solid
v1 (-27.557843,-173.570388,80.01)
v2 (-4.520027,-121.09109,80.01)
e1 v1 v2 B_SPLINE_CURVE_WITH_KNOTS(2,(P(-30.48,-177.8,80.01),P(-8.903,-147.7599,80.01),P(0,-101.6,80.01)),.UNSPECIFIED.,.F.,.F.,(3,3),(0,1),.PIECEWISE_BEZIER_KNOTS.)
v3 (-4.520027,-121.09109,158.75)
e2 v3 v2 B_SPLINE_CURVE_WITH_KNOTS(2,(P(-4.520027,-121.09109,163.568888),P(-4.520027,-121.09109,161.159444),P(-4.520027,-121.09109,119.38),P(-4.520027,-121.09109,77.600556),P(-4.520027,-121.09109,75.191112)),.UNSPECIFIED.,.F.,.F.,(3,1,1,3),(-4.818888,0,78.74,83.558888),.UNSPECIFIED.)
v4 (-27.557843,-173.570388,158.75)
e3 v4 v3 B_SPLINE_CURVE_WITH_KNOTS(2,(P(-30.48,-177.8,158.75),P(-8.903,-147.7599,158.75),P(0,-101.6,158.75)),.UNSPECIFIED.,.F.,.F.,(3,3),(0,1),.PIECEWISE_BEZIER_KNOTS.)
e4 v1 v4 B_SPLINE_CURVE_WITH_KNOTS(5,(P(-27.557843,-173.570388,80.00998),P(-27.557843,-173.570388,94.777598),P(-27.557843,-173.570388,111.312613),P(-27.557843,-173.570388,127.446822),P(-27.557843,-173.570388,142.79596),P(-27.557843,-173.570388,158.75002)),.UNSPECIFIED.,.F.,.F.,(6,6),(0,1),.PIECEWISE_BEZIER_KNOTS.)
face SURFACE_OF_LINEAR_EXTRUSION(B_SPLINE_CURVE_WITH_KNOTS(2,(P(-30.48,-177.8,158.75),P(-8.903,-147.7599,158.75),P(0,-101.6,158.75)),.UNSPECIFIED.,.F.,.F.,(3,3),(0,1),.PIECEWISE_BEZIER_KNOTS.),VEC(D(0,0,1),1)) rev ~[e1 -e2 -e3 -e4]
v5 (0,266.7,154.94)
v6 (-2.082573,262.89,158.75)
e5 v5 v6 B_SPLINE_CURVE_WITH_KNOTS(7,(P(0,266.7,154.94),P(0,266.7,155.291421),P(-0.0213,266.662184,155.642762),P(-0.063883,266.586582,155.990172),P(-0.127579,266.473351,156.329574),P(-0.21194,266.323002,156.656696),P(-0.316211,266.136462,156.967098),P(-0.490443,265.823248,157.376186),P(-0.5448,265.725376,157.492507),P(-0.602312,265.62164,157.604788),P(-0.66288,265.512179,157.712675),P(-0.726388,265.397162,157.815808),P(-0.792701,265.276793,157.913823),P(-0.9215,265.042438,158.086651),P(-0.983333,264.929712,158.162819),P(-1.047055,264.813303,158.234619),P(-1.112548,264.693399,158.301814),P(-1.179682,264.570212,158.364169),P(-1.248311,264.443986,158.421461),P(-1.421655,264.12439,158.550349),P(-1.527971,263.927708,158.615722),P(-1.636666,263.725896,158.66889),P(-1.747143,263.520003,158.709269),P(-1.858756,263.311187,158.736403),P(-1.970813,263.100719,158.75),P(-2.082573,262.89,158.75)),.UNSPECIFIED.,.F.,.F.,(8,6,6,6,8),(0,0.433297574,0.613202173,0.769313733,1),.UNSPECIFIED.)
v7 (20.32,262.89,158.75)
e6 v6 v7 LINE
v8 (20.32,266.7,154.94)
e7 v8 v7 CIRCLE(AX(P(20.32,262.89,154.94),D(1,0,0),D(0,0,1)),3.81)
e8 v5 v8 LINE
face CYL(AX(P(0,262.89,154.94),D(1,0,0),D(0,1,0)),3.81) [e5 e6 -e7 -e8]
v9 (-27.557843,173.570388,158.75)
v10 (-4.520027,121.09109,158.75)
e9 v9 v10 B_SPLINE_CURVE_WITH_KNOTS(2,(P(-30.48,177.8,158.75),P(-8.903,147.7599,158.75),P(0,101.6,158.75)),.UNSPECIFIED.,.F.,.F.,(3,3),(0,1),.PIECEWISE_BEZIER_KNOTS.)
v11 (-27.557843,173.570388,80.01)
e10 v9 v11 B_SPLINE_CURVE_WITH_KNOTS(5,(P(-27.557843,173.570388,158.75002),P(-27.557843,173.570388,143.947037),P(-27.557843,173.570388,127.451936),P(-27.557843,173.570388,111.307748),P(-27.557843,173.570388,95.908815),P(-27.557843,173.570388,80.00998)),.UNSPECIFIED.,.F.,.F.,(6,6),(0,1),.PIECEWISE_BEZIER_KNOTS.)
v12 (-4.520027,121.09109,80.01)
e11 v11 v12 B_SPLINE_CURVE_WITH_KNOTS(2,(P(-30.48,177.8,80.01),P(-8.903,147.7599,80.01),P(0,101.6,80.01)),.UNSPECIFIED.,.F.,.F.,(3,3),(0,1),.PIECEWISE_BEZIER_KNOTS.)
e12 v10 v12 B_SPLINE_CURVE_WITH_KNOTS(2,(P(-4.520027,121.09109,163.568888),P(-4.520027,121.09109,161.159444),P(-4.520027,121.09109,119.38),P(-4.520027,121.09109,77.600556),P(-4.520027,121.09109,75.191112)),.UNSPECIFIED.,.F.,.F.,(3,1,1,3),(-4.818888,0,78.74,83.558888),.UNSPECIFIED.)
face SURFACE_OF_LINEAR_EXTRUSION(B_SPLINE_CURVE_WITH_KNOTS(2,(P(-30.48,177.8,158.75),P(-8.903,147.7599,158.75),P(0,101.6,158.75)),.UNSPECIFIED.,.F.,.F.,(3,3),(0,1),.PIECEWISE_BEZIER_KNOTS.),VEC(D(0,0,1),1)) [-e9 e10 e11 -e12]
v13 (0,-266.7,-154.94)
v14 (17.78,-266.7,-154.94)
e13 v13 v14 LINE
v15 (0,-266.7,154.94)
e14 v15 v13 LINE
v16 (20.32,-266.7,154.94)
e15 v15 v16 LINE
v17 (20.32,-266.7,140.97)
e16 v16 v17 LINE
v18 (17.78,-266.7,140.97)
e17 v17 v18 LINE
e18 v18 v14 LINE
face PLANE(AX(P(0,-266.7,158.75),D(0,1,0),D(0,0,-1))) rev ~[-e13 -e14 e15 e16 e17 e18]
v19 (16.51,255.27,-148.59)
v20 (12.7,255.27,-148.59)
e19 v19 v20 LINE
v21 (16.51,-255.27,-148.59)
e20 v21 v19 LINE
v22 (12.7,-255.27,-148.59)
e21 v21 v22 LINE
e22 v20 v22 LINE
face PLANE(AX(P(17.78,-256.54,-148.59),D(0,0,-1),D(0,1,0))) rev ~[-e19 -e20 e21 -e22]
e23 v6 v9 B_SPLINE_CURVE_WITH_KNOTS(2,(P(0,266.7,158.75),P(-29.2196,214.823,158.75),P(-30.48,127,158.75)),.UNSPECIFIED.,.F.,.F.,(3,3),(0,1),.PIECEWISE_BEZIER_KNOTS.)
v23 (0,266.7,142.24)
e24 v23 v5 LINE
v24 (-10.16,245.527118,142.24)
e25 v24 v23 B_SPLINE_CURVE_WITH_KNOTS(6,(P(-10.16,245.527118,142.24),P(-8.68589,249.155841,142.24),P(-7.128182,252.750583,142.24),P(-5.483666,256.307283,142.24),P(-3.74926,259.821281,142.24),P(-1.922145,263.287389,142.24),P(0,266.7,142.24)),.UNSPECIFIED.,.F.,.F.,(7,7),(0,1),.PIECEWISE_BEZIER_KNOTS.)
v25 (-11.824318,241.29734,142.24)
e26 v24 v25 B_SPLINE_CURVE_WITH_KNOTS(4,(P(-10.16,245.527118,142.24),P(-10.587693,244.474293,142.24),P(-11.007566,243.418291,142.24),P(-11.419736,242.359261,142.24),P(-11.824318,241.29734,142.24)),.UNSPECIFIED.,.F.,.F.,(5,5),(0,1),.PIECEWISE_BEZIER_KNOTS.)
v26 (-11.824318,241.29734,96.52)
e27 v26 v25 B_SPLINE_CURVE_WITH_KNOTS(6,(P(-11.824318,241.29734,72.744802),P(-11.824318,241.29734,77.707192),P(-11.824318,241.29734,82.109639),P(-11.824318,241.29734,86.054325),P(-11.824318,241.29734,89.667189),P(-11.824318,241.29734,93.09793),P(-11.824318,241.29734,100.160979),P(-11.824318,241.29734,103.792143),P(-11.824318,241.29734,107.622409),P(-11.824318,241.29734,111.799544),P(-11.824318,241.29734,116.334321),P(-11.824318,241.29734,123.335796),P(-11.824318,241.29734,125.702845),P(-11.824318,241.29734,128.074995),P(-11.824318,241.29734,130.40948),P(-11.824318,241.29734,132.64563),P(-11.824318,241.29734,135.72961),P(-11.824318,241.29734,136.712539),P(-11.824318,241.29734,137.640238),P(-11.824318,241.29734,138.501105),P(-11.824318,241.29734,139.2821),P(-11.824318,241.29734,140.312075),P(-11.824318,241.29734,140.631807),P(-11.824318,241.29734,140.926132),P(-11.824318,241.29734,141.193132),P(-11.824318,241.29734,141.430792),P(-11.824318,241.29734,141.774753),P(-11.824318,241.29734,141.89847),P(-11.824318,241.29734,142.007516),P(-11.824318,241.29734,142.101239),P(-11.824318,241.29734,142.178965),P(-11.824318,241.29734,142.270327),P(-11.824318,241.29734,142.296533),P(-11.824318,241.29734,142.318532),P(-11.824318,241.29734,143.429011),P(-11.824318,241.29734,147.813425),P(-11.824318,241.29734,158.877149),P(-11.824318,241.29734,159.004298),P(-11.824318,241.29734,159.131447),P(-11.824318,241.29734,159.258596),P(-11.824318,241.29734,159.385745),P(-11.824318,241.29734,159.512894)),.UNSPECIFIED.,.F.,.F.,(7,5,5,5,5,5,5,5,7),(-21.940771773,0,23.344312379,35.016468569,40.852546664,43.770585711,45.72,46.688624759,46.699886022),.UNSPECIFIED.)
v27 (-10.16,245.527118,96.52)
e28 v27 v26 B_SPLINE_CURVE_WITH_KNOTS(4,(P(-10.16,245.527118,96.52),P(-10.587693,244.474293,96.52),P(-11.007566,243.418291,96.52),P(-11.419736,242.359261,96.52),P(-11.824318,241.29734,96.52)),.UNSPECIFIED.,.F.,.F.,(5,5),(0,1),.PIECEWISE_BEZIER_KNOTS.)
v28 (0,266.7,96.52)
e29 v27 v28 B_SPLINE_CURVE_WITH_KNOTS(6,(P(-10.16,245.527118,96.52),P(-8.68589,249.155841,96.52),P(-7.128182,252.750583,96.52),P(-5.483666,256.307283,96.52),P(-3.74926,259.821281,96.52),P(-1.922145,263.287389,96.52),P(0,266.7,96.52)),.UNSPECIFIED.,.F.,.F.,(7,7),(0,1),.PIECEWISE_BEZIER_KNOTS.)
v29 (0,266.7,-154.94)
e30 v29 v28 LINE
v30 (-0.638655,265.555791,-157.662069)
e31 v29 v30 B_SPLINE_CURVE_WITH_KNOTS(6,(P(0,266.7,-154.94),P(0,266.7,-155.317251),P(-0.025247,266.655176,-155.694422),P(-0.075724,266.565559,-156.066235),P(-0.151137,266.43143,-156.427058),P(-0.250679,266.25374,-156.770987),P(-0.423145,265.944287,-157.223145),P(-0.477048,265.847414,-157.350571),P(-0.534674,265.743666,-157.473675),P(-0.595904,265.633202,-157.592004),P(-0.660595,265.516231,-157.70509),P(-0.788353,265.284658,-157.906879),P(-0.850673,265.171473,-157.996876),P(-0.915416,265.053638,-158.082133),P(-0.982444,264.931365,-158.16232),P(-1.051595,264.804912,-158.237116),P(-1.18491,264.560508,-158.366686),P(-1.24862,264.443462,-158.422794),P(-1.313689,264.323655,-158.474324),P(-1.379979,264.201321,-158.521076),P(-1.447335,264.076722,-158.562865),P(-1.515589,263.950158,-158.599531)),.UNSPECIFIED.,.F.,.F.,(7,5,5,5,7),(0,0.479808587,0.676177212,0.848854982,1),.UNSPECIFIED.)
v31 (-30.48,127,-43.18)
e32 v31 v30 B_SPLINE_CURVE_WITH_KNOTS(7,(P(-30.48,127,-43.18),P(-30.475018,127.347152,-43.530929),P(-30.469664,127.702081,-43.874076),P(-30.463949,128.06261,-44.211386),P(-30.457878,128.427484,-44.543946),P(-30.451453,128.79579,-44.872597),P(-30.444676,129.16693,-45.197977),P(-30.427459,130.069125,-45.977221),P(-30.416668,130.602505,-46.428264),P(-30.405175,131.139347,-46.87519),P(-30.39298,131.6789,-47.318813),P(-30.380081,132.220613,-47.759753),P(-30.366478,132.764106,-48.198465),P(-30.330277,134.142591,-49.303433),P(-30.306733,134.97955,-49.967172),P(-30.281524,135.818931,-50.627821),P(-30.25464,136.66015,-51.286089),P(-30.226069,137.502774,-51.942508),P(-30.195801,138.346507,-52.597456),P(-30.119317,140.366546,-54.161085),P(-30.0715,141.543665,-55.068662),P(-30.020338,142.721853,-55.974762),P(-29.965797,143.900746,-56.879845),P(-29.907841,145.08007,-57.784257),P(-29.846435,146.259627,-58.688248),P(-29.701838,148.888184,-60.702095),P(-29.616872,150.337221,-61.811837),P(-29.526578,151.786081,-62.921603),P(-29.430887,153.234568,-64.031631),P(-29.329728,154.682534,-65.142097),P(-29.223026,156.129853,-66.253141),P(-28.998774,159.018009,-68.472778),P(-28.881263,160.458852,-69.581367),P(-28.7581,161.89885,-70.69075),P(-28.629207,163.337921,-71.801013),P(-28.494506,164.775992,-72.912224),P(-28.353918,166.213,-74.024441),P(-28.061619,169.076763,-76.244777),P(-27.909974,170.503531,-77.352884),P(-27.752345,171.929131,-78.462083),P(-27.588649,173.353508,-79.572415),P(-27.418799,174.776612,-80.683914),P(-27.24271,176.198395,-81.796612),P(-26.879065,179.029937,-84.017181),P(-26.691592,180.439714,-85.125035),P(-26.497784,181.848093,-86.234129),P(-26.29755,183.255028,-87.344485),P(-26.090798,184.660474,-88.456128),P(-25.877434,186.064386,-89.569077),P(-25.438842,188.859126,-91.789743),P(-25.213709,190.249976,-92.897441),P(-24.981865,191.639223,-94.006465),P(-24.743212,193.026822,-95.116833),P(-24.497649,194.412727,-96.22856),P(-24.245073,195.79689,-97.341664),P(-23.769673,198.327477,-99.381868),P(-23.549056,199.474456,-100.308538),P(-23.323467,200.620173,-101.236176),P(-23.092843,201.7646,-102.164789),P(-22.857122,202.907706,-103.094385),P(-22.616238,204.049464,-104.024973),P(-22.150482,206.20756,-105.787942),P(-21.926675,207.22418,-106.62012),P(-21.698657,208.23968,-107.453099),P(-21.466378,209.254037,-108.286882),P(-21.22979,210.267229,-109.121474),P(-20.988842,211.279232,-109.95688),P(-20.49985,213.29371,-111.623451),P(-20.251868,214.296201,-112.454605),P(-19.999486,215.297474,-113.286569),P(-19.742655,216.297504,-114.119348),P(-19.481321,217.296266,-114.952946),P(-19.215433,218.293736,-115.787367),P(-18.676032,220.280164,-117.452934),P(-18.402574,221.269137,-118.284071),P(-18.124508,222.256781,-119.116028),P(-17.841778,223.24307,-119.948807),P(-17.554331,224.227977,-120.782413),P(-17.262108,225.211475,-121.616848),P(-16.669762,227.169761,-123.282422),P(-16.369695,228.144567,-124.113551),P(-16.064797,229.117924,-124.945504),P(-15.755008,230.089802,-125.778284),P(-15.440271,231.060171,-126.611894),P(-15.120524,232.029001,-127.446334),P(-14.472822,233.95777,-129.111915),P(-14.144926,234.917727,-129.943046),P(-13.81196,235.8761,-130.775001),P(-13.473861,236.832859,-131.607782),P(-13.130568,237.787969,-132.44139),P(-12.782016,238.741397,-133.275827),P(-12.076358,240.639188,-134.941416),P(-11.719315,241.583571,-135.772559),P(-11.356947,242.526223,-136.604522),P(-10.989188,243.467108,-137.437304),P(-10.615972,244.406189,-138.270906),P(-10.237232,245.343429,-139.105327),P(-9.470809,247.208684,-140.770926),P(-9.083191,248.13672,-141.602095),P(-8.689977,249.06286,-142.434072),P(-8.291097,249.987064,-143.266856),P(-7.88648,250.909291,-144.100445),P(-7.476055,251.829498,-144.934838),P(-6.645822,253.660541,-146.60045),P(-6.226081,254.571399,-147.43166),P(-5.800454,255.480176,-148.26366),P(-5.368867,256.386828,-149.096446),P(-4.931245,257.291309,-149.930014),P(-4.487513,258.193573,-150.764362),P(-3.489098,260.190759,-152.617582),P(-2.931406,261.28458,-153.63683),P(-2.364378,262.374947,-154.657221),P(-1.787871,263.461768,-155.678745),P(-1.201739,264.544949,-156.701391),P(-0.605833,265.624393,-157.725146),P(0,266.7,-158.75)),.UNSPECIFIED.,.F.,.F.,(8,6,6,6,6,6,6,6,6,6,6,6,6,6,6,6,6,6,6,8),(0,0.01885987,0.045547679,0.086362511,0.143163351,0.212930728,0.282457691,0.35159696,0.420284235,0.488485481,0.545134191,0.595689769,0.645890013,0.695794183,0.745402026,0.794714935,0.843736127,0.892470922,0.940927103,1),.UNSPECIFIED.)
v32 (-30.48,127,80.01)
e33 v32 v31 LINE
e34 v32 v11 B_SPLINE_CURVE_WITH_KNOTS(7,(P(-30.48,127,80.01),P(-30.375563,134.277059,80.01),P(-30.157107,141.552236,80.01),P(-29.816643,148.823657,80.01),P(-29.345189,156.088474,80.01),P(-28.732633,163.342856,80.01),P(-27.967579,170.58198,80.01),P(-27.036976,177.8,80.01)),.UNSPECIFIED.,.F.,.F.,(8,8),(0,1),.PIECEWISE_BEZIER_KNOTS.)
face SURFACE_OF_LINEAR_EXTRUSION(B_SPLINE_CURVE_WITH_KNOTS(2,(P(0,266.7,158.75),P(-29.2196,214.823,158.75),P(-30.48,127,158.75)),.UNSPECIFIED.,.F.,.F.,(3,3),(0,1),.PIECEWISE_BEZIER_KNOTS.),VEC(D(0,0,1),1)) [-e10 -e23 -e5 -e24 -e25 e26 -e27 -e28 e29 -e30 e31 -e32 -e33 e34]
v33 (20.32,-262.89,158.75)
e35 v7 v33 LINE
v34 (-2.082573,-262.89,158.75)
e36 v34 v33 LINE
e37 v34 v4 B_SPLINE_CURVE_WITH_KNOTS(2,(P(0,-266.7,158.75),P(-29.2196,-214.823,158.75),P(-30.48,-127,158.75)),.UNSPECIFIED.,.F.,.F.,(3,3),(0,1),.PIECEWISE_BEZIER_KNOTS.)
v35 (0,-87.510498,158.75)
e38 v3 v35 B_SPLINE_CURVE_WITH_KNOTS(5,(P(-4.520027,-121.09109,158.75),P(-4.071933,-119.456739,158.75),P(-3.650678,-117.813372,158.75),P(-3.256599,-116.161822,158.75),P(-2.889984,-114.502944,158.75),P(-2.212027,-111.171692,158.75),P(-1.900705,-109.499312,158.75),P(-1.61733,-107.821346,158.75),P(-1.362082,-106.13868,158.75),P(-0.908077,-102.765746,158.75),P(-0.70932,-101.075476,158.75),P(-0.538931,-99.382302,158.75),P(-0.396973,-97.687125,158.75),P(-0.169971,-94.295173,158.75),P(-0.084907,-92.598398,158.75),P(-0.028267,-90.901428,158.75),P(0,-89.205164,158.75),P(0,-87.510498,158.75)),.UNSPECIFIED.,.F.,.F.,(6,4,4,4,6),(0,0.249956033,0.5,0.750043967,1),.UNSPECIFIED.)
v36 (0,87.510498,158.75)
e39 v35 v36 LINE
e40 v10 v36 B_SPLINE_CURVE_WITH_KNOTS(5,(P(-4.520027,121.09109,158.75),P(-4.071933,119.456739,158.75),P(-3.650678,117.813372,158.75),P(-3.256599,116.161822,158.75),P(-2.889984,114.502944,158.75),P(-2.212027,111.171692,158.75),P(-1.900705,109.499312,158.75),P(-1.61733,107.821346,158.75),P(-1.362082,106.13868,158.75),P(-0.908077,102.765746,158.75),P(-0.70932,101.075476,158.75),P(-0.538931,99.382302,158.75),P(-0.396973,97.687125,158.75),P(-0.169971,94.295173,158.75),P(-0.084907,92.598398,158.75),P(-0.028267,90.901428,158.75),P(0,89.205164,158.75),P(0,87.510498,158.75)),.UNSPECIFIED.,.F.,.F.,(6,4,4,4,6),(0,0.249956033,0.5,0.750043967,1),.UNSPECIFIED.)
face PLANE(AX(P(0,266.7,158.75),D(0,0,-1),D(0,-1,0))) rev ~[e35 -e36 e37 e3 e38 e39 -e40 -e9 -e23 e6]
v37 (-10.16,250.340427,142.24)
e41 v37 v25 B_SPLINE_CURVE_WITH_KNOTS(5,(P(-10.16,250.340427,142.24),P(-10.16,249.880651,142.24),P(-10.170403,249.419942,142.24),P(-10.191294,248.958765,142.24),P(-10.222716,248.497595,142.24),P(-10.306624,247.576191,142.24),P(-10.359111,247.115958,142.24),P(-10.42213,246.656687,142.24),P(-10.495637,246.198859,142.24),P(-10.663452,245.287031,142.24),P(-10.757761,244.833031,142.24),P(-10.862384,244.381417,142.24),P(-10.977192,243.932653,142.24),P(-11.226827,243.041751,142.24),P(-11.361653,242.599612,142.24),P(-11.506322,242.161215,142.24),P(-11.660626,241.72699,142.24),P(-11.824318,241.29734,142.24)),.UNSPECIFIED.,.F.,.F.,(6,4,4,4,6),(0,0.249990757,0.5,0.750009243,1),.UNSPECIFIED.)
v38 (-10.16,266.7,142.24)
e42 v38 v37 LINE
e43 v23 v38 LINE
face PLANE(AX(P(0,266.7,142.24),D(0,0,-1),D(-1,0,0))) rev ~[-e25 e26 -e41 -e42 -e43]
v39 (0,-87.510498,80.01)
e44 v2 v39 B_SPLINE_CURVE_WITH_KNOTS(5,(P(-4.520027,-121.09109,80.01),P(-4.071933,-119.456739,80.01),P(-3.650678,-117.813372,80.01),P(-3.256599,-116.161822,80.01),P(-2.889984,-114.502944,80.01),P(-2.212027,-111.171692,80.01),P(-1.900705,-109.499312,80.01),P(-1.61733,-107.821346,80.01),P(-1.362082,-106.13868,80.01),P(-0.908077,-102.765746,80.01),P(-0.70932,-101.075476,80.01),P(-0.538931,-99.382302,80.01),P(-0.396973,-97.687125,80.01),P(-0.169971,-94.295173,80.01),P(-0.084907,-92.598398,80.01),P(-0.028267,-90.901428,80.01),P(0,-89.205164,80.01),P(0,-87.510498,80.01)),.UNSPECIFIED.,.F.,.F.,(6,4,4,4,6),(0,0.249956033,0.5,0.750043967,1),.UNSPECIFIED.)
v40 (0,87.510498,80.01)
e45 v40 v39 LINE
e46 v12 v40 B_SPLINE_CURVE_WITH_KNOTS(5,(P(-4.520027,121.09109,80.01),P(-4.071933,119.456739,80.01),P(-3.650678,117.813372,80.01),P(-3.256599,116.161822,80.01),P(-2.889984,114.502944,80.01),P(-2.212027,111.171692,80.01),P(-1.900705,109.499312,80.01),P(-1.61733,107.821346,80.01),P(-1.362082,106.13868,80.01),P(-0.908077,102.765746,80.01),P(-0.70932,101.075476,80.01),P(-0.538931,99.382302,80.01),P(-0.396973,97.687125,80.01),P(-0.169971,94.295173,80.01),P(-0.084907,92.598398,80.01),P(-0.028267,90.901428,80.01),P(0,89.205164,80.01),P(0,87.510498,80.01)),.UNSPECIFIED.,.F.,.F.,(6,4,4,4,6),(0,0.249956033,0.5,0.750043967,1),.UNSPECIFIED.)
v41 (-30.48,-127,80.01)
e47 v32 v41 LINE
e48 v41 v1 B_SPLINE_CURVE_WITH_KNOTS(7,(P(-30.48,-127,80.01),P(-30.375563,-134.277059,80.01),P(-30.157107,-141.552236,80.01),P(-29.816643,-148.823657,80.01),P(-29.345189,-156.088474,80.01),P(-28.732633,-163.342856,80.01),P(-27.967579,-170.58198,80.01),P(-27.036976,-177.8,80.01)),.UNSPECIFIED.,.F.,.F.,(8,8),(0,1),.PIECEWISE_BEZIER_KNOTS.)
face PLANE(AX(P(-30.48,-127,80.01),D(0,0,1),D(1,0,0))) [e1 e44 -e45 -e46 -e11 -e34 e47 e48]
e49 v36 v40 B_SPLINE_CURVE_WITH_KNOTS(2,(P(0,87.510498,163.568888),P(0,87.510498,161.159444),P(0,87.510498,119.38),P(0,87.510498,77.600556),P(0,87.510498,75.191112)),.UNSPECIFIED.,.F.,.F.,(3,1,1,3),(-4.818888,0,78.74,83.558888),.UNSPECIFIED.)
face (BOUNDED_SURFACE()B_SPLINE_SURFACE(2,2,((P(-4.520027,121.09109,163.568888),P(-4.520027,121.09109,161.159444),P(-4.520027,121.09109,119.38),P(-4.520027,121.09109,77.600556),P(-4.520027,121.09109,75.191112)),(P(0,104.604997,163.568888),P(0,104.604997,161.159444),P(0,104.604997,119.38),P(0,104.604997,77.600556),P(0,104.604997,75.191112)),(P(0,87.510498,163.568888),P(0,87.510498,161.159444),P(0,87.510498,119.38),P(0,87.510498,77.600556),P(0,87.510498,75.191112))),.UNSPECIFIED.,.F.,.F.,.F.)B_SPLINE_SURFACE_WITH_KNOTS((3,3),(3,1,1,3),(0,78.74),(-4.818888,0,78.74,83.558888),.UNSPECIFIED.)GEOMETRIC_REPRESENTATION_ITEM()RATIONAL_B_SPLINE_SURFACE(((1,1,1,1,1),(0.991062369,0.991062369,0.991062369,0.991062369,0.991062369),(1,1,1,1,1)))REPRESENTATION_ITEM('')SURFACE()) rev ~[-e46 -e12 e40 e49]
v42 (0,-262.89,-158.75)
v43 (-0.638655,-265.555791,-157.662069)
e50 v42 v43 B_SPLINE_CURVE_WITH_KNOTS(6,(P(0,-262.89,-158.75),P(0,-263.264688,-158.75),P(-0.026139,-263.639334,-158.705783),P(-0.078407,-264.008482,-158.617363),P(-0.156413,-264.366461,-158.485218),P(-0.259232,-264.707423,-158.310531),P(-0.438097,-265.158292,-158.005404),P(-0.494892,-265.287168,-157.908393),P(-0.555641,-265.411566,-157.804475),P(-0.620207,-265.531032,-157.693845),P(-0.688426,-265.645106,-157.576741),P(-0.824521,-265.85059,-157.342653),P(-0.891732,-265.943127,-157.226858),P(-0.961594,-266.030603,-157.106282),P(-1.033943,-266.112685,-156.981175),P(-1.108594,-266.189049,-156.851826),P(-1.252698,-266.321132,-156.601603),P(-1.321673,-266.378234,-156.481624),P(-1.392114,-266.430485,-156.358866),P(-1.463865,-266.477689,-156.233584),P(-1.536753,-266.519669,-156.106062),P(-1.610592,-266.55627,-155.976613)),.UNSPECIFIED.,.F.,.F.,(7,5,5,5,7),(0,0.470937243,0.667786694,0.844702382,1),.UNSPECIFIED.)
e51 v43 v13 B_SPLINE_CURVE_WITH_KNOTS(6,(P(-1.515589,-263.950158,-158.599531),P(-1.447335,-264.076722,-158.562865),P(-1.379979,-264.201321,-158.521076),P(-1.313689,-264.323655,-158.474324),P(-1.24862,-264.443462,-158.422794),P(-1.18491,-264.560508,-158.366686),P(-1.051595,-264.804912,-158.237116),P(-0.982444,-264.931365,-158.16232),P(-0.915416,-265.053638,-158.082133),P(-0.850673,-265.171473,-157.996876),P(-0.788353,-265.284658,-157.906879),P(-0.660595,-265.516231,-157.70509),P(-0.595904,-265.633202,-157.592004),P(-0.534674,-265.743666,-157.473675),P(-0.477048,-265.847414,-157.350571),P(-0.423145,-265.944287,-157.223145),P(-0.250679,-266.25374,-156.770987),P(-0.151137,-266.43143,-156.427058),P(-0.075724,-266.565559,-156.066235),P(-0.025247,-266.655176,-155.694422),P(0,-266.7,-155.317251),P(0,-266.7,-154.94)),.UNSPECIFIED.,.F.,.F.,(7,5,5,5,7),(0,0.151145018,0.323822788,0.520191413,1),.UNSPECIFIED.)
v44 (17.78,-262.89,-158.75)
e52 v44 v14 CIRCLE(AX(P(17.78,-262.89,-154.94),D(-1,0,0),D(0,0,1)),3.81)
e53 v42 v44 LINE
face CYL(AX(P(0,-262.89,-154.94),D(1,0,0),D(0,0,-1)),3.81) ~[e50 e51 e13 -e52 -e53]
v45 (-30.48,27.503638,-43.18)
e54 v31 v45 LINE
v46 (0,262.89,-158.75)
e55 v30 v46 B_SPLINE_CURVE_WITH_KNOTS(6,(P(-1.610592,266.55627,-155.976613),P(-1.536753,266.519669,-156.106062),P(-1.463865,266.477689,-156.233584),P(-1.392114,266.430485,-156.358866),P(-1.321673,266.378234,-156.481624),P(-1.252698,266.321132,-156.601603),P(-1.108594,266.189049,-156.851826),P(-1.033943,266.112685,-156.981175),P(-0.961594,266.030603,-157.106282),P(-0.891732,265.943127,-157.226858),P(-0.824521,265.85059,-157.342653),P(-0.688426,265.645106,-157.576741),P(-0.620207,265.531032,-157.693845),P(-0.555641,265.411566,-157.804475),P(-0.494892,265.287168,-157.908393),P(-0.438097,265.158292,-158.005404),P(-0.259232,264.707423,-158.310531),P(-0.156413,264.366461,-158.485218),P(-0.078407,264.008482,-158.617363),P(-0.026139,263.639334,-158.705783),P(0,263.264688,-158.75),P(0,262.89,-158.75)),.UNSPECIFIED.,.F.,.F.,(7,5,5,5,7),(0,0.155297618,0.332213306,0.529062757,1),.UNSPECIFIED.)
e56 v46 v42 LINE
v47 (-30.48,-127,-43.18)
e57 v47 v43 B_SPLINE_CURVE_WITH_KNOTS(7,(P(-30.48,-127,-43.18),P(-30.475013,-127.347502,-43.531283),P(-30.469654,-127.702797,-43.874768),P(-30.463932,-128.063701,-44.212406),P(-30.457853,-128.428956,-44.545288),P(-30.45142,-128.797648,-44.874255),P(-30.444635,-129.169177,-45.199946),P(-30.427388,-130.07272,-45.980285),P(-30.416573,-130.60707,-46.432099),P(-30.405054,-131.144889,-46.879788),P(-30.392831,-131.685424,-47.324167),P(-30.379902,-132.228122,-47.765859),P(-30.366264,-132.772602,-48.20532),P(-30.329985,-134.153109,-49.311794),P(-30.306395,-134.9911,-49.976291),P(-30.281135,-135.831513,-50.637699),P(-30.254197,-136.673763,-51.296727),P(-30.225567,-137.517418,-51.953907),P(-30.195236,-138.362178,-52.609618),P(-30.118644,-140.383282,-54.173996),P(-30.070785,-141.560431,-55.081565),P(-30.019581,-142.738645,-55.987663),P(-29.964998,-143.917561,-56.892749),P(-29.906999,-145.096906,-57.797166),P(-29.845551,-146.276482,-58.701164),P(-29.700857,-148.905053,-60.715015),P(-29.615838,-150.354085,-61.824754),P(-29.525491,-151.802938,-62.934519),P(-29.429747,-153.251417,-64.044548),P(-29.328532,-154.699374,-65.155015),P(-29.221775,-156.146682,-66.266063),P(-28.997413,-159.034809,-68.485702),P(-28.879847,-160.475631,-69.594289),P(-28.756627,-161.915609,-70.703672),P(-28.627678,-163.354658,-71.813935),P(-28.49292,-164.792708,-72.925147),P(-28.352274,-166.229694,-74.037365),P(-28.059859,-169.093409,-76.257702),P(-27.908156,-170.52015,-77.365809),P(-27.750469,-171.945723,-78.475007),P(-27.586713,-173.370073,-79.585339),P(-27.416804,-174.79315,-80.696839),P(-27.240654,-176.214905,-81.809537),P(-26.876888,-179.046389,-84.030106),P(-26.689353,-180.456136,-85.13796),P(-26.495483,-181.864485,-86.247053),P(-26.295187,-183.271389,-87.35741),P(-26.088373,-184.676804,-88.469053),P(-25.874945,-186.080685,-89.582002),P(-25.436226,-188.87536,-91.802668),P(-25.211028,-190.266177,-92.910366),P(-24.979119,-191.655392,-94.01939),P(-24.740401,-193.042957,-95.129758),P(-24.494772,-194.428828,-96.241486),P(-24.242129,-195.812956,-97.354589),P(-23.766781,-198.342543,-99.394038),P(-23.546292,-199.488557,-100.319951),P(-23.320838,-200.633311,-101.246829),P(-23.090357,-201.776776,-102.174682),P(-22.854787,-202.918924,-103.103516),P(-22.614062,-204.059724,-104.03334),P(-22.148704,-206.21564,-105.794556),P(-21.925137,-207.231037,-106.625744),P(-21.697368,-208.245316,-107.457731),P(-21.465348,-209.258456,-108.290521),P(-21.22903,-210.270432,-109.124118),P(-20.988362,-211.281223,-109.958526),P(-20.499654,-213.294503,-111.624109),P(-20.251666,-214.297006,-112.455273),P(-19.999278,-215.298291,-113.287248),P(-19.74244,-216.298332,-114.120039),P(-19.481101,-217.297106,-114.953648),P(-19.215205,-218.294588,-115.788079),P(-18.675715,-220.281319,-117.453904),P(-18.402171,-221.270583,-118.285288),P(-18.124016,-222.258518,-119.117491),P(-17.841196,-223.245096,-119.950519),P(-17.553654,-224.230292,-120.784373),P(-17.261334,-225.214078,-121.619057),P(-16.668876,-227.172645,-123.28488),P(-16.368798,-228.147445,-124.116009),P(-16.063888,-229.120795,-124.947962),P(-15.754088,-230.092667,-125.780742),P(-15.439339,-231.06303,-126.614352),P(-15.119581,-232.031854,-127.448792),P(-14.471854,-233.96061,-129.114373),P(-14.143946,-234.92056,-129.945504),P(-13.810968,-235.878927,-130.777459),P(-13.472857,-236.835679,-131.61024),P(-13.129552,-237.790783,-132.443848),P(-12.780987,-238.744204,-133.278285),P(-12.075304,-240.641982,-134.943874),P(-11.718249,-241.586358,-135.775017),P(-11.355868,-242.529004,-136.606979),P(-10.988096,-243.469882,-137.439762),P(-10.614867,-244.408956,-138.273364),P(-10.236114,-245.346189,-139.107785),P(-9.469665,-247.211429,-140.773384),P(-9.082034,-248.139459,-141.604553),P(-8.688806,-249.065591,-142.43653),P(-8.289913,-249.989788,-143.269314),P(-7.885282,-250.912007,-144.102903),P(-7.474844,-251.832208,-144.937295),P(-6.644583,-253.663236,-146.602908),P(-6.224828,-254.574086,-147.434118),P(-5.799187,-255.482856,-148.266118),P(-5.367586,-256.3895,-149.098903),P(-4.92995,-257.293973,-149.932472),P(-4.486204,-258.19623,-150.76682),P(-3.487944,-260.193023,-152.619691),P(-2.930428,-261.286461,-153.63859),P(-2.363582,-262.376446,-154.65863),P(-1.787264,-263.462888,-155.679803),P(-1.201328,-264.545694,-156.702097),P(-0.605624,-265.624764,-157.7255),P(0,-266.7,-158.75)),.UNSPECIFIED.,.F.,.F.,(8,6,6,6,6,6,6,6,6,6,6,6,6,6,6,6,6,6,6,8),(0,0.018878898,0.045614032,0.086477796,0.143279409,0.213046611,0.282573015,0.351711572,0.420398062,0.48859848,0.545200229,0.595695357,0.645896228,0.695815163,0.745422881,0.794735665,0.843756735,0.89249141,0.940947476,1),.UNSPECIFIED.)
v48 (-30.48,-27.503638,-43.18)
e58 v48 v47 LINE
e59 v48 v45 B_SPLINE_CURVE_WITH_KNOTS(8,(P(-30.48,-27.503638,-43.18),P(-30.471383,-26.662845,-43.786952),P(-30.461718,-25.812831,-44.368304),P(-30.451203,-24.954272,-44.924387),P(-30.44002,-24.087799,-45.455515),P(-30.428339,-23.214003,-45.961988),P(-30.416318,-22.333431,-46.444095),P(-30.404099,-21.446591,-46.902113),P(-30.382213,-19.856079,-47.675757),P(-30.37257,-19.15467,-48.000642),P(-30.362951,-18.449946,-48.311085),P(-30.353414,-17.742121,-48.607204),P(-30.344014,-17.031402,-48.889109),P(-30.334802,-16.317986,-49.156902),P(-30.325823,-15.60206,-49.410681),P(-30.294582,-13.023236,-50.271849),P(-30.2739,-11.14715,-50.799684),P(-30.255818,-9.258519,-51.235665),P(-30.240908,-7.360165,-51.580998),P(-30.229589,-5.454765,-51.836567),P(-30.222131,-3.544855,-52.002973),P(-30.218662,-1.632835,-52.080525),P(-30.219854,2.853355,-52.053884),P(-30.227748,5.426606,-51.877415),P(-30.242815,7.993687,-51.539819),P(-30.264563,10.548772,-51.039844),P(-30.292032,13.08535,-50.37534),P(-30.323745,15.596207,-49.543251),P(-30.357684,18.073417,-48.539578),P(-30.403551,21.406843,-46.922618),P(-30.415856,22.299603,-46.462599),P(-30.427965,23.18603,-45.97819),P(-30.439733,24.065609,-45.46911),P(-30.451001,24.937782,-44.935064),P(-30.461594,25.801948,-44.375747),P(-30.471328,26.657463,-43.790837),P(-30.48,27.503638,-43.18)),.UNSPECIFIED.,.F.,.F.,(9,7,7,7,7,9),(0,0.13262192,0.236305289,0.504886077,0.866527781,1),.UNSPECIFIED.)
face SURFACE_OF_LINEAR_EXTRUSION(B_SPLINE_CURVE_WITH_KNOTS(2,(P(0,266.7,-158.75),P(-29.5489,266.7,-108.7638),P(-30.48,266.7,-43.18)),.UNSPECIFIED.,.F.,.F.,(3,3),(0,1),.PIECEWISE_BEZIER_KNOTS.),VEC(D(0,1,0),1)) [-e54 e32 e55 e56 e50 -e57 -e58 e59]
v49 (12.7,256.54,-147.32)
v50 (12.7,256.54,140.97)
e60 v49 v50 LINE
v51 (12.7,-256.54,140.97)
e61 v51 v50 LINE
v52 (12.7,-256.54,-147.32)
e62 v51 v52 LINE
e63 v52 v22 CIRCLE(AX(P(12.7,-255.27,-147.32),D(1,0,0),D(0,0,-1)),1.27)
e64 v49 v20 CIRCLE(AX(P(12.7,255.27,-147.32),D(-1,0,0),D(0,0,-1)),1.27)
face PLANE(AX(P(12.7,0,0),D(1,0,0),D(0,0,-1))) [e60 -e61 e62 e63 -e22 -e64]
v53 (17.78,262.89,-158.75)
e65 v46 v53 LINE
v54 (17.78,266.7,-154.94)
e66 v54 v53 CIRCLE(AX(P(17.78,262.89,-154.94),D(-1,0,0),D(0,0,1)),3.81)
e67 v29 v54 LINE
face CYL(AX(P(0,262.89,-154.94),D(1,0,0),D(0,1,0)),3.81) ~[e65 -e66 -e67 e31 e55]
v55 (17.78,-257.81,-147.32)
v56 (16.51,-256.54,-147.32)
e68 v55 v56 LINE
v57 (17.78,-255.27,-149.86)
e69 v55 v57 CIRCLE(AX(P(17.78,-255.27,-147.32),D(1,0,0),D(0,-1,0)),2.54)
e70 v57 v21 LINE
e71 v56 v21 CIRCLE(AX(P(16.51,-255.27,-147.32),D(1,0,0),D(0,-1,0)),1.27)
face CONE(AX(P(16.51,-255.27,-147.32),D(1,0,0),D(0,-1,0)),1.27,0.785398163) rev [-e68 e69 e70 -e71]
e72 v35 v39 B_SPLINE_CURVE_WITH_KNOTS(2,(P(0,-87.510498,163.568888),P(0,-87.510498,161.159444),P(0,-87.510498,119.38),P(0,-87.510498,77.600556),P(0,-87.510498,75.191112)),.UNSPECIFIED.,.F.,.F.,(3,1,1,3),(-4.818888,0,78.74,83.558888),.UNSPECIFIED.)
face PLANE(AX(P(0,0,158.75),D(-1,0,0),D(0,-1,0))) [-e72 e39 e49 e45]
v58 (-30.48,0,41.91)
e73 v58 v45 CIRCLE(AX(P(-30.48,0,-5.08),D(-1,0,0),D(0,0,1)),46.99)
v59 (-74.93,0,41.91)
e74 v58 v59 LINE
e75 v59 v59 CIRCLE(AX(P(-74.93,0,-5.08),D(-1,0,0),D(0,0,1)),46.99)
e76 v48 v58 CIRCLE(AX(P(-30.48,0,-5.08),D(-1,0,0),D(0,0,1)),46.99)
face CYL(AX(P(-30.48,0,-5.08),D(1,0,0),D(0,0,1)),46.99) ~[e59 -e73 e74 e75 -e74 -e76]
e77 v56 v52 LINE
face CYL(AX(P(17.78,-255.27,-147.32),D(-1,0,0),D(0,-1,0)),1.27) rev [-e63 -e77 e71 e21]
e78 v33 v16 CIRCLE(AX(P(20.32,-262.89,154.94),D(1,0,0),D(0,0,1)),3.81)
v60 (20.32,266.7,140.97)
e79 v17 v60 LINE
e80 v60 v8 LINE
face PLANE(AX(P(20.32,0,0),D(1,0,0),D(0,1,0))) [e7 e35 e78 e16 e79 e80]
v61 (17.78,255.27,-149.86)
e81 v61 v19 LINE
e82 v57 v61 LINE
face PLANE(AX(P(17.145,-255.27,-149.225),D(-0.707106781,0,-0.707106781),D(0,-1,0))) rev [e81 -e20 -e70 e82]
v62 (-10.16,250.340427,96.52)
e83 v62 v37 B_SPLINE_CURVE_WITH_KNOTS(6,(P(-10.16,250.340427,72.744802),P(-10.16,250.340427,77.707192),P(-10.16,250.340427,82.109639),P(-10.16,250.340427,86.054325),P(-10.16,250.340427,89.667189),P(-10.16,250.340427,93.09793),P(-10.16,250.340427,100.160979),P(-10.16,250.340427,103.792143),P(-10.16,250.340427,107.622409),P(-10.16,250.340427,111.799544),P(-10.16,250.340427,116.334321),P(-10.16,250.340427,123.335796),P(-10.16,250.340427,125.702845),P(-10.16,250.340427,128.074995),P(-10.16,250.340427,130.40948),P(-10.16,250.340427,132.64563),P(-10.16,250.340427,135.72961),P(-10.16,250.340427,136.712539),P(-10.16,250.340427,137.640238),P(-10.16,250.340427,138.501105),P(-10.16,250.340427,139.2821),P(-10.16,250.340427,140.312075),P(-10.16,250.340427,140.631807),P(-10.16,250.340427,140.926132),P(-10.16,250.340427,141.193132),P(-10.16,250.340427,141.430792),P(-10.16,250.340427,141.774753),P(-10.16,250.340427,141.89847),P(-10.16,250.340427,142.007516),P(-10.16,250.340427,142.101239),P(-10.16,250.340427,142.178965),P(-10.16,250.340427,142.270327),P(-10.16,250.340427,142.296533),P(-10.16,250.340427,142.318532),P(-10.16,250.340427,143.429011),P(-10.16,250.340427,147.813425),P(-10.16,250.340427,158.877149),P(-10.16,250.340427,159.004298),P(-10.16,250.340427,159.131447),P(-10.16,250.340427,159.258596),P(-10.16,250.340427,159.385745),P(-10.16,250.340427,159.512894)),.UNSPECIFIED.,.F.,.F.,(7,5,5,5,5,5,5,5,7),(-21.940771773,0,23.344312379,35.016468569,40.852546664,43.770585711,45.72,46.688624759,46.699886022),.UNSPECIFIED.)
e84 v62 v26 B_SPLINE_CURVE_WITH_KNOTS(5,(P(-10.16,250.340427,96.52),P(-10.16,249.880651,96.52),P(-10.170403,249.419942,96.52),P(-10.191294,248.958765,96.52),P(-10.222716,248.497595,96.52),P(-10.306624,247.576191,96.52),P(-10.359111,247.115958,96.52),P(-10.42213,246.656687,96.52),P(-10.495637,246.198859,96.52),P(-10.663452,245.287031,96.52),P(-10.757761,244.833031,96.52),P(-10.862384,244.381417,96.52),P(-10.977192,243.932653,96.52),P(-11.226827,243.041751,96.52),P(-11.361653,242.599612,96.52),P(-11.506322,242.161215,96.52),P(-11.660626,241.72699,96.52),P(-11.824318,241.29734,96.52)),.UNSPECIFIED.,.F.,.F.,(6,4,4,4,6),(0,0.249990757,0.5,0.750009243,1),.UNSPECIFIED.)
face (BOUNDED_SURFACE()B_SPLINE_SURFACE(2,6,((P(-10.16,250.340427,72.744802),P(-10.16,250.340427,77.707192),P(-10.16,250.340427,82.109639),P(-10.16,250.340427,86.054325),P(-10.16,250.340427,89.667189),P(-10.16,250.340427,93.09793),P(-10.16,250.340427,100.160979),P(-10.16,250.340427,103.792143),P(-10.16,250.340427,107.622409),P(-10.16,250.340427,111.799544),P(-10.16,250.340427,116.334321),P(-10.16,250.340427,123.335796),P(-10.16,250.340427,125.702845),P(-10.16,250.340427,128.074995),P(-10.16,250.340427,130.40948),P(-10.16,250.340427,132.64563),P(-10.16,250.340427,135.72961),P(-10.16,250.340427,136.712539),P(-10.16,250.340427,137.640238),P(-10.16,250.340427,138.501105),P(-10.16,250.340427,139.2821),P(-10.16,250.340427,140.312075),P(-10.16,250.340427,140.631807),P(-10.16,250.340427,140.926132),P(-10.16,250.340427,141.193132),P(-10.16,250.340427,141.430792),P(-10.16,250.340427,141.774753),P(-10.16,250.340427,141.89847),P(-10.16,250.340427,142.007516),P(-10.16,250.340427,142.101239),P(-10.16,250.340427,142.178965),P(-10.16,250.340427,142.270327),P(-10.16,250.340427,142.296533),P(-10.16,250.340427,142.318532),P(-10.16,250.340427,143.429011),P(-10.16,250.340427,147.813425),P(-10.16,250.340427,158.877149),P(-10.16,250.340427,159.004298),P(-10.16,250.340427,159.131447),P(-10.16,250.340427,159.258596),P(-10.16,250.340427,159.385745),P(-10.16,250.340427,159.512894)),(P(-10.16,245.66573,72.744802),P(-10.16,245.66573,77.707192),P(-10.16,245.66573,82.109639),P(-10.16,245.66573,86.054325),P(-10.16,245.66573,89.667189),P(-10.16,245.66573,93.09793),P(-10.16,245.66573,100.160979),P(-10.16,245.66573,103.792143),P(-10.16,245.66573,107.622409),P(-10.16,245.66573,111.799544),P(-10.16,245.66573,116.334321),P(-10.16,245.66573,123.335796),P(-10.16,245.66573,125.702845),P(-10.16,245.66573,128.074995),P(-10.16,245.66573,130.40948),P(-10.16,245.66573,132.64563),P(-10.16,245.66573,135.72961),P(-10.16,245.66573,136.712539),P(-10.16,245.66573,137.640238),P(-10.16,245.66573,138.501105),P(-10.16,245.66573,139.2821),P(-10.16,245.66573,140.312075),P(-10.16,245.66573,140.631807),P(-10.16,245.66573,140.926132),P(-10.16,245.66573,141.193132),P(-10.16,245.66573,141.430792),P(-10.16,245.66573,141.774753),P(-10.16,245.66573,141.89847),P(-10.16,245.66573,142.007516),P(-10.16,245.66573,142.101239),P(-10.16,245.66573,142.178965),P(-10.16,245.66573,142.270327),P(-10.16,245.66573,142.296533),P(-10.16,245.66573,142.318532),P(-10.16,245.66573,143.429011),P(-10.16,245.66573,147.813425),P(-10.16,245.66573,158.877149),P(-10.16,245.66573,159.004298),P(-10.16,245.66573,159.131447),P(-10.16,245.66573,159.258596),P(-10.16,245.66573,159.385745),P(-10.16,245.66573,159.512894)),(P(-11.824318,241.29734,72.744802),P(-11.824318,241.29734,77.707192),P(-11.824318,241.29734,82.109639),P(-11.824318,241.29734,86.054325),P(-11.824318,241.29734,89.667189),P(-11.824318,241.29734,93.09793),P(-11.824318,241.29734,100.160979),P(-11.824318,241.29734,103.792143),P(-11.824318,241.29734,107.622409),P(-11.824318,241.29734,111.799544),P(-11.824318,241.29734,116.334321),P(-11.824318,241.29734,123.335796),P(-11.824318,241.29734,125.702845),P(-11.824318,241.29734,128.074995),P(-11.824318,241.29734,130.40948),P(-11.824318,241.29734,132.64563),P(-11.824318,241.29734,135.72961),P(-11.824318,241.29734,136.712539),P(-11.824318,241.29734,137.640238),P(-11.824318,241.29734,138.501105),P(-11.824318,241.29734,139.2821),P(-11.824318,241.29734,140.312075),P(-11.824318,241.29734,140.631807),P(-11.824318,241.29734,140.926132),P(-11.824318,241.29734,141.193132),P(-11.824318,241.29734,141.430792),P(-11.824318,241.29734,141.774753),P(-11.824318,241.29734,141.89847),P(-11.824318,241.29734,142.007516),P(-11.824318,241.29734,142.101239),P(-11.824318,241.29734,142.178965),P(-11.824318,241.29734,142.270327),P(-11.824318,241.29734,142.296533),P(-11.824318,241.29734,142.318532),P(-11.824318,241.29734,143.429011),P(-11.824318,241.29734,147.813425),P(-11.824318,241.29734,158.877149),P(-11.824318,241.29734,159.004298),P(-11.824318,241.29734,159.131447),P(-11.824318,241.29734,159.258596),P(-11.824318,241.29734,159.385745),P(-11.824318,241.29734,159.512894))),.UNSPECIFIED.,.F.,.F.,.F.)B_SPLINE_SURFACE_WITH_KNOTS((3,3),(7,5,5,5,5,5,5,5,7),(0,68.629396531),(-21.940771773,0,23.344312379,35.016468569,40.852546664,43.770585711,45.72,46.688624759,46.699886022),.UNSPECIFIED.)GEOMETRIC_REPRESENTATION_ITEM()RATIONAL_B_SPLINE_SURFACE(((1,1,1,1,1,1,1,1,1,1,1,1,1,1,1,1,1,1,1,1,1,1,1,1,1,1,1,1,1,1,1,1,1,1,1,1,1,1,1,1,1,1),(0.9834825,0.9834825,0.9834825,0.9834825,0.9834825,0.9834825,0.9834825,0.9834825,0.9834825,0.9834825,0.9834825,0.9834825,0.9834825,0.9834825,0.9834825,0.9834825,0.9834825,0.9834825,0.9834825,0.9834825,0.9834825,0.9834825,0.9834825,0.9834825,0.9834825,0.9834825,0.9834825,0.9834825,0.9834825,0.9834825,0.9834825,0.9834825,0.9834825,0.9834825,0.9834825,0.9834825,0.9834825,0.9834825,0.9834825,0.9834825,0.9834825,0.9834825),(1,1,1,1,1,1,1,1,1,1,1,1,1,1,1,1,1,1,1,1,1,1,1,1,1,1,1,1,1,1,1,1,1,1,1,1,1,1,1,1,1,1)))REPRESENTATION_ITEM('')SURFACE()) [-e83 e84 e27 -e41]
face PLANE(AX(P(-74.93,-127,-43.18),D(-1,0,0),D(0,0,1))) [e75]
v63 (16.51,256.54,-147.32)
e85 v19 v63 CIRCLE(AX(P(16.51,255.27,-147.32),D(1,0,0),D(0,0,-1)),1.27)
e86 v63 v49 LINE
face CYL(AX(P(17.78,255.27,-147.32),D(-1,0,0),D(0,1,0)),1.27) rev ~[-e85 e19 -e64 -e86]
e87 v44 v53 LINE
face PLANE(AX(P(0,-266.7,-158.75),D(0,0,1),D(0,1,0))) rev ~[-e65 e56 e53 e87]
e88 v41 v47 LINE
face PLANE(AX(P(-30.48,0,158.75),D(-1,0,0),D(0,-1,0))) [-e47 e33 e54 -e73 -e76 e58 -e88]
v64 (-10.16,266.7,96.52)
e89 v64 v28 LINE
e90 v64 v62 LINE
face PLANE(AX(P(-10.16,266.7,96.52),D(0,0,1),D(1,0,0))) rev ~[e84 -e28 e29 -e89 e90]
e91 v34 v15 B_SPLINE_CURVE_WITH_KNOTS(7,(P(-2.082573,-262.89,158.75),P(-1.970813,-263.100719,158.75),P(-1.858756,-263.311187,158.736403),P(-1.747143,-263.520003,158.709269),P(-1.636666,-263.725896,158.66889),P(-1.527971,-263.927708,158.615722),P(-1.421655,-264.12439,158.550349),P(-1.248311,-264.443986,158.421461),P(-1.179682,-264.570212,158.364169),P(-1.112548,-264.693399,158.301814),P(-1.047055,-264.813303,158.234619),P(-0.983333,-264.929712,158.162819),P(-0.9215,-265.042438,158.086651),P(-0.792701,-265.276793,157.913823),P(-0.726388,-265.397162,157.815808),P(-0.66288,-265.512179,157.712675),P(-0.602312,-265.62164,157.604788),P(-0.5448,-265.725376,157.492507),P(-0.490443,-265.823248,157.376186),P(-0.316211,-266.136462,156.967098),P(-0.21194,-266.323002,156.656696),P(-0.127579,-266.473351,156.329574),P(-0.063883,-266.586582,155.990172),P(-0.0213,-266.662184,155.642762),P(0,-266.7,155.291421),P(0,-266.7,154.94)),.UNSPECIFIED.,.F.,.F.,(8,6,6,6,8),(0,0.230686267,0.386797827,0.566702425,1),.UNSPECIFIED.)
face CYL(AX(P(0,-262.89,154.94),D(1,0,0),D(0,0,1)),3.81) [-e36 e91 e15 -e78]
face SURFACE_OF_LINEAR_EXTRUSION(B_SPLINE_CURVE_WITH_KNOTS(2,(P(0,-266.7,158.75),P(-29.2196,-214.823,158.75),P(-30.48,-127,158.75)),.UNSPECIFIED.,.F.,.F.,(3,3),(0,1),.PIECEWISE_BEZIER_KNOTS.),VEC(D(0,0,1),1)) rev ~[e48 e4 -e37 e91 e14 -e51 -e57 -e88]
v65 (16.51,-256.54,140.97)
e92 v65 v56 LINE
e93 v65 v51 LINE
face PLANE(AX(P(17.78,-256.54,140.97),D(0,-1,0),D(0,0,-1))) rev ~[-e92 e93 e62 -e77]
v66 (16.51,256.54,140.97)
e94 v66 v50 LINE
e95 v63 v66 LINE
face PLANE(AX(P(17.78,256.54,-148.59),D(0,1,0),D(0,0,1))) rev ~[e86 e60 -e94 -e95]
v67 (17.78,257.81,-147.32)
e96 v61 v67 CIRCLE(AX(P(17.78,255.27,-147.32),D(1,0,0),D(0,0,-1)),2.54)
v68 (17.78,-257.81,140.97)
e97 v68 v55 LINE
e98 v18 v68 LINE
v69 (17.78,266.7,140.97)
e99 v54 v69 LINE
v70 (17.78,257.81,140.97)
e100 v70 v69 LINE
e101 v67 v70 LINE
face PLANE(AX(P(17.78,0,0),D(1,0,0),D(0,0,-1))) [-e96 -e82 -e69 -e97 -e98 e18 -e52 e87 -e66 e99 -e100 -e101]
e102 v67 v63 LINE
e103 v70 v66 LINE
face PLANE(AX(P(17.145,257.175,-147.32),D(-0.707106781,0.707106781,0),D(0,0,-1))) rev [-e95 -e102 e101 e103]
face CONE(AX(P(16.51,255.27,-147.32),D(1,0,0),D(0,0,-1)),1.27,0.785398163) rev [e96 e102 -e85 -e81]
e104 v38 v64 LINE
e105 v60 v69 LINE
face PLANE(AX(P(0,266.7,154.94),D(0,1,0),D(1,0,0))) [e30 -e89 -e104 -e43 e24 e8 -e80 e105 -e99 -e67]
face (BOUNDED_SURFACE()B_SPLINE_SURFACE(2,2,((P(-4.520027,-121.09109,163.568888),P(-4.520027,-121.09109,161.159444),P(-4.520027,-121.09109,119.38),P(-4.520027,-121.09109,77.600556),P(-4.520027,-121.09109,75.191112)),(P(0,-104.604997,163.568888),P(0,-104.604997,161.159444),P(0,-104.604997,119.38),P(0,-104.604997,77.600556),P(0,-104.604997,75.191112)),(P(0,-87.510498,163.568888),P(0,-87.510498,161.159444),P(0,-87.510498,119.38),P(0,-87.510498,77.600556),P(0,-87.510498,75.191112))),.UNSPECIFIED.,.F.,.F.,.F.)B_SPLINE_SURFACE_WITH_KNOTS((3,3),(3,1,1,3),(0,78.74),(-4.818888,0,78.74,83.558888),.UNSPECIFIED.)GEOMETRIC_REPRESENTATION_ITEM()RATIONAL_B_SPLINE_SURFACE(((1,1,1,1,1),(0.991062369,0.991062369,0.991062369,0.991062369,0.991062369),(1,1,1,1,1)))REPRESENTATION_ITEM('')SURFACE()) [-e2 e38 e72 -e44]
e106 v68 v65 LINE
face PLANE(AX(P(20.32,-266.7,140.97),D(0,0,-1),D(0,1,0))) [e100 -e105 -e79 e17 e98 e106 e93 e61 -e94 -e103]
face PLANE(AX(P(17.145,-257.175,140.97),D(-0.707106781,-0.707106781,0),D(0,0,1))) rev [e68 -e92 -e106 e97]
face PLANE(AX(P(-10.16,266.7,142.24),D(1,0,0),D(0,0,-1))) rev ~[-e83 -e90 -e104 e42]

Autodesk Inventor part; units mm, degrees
ref_plane "YZ Plane" through (0, 0, 0) normal (1, 0, 0) x (0, 1, 0)
ref_plane "XZ Plane" through (0, 0, 0) normal (0, 1, 0) x (-1, 0, 0)
ref_plane "XY Plane" through (0, 0, 0) normal (0, 0, 1) x (1, 0, 0)
sketch "Sketch1" plane through (0, 0, 0) normal (1, 0, 0) x (0, 1, 0)
  line L0 (266.7, 158.75) -> (-266.7, 158.75)
  line L1 (-266.7, 158.75) -> (-266.7, -158.75)
  line L2 (-266.7, -158.75) -> (266.7, -158.75)
  line L3 (266.7, -158.75) -> (266.7, 158.75)
  line L4 (266.7, 158.75) -> (-266.7, -158.75) construction
  line L5 (-266.7, 158.75) -> (266.7, -158.75) construction
  point P0 (0, 0)
  dimension "d0" = 533.4
  dimension "d1" = 317.5
extrude "Extrusion1" add sketch "Sketch1" along normal blind 20.32
sketch "Sketch2" plane through (20.32, 0, 0) normal (1, 0, 0) x (0, 0, -1)
  line L0 (-158.75, 266.7) -> (-158.75, -266.7) projected
  line L1 (158.75, 266.7) -> (-158.75, 266.7) projected
  line L2 (-158.75, -266.7) -> (-140.97, -266.7)
  line L3 (-140.97, -266.7) -> (-140.97, 266.7)
  line L4 (-140.97, 266.7) -> (-158.75, 266.7)
  line L5 (-158.75, 266.7) -> (-158.75, -266.7)
  line L6 (158.75, 266.7) -> (-140.97, 266.7)
  line L7 (-140.97, 266.7) -> (-140.97, -266.7)
  line L8 (-140.97, -266.7) -> (158.75, -266.7)
  line L9 (158.75, -266.7) -> (158.75, 266.7)
  point P0 (0, 0)
  dimension "d4" = 17.78
extrude "Extrusion2" cut sketch "Sketch2" against normal blind 2.54 contours L1 L9 L8 L3
sketch "Sketch3" plane through (17.78, 0, 0) normal (1, 0, 0) x (0, 0, -1)
  line L0 (-140.97, -266.7) -> (-140.97, 266.7) projected
  line L1 (-140.97, 266.7) -> (-140.97, 256.54)
  line L2 (-140.97, -266.7) -> (-140.97, -256.54)
  line L3 (158.75, -266.7) -> (158.75, 266.7) projected
  line L4 (158.75, 0) -> (148.59, 0)
  line L5 (-140.97, -256.54) -> (148.59, -256.54)
  line L6 (148.59, -256.54) -> (148.59, 256.54)
  line L7 (148.59, 256.54) -> (-140.97, 256.54)
  line L8 (-140.97, 256.54) -> (-140.97, -256.54)
  point P0 (0, 0)
  dimension "d7" = 10.16
  dimension "d8" = 10.16
  dimension "d9" = 10.16
extrude "Extrusion3" cut sketch "Sketch3" against normal blind 5.08
sketch "Sketch4" plane through (0, -266.7, 158.75) normal (0, 0, 1) x (1, 0, 0)
  line L0 (0, 266.7) -> (-30.48, 266.7)
  line L1 (-30.48, 266.7) -> (-30.48, 393.7)
  line L2 (-30.48, 266.7) -> (-30.48, 139.7)
  line L3 (0, 0) -> (20.32, 0) projected
  spline S0 degree 2 poles (0, 0) (-29.2196, 51.877) (-30.48, 139.7) knots 0 0 0 1 1 1
  spline S1 degree 2 poles (0, 533.4) (-29.2196, 481.523) (-30.48, 393.7) knots 0 0 0 1 1 1
  line L4 (0, 0) -> (0, 533.4)
  line L5 (20.32, 533.4) -> (20.32, 0) projected
  point P0 (-20.6375, 53.975)
  point P1 (-20.6375, 479.425)
  dimension "d12" = 30.48
  dimension "d13" = 127
  dimension "d14" = 127
extrude "Extrusion4" add sketch "Sketch4" against normal blind 317.5
sketch "Sketch5" plane through (17.78, 266.7, 140.97) normal (0, 1, 0) x (1, 0, 0)
  line L0 (-17.78, 299.72) -> (0, 299.72) projected
  line L1 (-48.26, -17.78) -> (-48.26, 299.72) projected
  spline S0 degree 2 poles (-17.78, 299.72) (-47.3289, 249.7338) (-48.26, 184.15) knots 0 0 0 1 1 1
  line L2 (-48.26, 184.15) -> (-48.26, 299.72)
  line L3 (-48.26, 299.72) -> (-17.78, 299.72)
  point P0 (-17.78, 140.97)
  point P1 (-39.6875, 247.65)
extrude "Extrusion5" cut sketch "Sketch5" against normal blind 533.4
fillet "Fillet1" radius 3.81 4 edges at (8.89, 266.7, -158.75) (8.89, -266.7, -158.75) (10.16, -266.7, 158.75) (10.16, 266.7, 158.75)
fillet "Fillet2" radius 1.27 2 edges at (15.24, -256.54, -148.59) (15.24, 256.54, -148.59)
chamfer "Chamfer1" distance 1.27 angle 45 5 edges at (17.78, 256.54, -3.175) (17.78, 256.168, -148.218) (17.78, 0, -148.59) (17.78, -256.168, -148.218) (17.78, -256.54, -3.175)
sketch "Sketch6" plane through (-30.48, -127, 158.75) normal (0, 0, 1) x (1, 0, 0)
  line L0 (0, 0) -> (0, 254) projected
  line L1 (0, 127) -> (30.48, 127)
  line L2 (30.48, 127) -> (30.48, 228.6)
  line L3 (30.48, 127) -> (30.48, 25.4)
  line L4 (0, 127) -> (0, 304.8)
  line L5 (0, 127) -> (0, -50.8)
  spline S0 degree 2 poles (0, -50.8) (21.577, -20.7599) (30.48, 25.4) knots 0 0 0 1 1 1
  spline S1 degree 2 poles (0, 304.8) (21.577, 274.7599) (30.48, 228.6) knots 0 0 0 1 1 1
  point P0 (17.4625, -19.05)
  point P1 (17.4625, 273.05)
  dimension "d24" = 101.6
  dimension "d25" = 101.6
  dimension "d26" = 177.8
  dimension "d27" = 177.8
extrude "Extrusion6" cut sketch "Sketch6" against normal blind 78.74
fillet "Fillet3" radius 127 2 edges at (0, -101.6, 119.38) (0, 101.6, 119.38)
sketch "Sketch7" plane through (0, 266.7, 154.94) normal (0, 1, 0) x (1, 0, 0)
  line L0 (-2.0826, -3.81) -> (20.32, -3.81) projected
  line L1 (0, -3.81) -> (0, 12.7)
  line L2 (0, 12.7) -> (-10.16, 12.7)
  line L3 (-10.16, 12.7) -> (-10.16, 58.42)
  line L4 (-10.16, 58.42) -> (0, 58.42)
  line L5 (0, 58.42) -> (0, 12.7)
  point P0 (0, 154.94)
  dimension "d31" = 16.51
  dimension "d32" = 10.16
  dimension "d33" = 45.72
extrude "Extrusion7" add sketch "Sketch7" against normal blind 65.7225
fillet "Fillet4" radius 25.4 1 edges at (-10.16, 245.5271, 120.309)
sketch "Sketch8" plane through (-30.48, -127, -43.18) normal (-1, 0, 0) x (0, 0, 1)
  line L0 (123.19, 214.5104) -> (123.19, 39.4896) projected
  line L1 (123.19, 127) -> (85.09, 127)
  line L2 (85.09, 127) -> (38.1, 127)
  circle A0 centre (38.1, 127) radius 46.99
  point P0 (43.18, 127)
  dimension "d37" = 38.1
  dimension "d38" = 46.99
  dimension "d39" = 93.98
extrude "Extrusion8" add sketch "Sketch8" against normal blind 7.9375
extrude "Extrusion9" add sketch "Sketch8" along normal blind 44.45
properties part number "DellP2317H" material "ABS Plastic"
